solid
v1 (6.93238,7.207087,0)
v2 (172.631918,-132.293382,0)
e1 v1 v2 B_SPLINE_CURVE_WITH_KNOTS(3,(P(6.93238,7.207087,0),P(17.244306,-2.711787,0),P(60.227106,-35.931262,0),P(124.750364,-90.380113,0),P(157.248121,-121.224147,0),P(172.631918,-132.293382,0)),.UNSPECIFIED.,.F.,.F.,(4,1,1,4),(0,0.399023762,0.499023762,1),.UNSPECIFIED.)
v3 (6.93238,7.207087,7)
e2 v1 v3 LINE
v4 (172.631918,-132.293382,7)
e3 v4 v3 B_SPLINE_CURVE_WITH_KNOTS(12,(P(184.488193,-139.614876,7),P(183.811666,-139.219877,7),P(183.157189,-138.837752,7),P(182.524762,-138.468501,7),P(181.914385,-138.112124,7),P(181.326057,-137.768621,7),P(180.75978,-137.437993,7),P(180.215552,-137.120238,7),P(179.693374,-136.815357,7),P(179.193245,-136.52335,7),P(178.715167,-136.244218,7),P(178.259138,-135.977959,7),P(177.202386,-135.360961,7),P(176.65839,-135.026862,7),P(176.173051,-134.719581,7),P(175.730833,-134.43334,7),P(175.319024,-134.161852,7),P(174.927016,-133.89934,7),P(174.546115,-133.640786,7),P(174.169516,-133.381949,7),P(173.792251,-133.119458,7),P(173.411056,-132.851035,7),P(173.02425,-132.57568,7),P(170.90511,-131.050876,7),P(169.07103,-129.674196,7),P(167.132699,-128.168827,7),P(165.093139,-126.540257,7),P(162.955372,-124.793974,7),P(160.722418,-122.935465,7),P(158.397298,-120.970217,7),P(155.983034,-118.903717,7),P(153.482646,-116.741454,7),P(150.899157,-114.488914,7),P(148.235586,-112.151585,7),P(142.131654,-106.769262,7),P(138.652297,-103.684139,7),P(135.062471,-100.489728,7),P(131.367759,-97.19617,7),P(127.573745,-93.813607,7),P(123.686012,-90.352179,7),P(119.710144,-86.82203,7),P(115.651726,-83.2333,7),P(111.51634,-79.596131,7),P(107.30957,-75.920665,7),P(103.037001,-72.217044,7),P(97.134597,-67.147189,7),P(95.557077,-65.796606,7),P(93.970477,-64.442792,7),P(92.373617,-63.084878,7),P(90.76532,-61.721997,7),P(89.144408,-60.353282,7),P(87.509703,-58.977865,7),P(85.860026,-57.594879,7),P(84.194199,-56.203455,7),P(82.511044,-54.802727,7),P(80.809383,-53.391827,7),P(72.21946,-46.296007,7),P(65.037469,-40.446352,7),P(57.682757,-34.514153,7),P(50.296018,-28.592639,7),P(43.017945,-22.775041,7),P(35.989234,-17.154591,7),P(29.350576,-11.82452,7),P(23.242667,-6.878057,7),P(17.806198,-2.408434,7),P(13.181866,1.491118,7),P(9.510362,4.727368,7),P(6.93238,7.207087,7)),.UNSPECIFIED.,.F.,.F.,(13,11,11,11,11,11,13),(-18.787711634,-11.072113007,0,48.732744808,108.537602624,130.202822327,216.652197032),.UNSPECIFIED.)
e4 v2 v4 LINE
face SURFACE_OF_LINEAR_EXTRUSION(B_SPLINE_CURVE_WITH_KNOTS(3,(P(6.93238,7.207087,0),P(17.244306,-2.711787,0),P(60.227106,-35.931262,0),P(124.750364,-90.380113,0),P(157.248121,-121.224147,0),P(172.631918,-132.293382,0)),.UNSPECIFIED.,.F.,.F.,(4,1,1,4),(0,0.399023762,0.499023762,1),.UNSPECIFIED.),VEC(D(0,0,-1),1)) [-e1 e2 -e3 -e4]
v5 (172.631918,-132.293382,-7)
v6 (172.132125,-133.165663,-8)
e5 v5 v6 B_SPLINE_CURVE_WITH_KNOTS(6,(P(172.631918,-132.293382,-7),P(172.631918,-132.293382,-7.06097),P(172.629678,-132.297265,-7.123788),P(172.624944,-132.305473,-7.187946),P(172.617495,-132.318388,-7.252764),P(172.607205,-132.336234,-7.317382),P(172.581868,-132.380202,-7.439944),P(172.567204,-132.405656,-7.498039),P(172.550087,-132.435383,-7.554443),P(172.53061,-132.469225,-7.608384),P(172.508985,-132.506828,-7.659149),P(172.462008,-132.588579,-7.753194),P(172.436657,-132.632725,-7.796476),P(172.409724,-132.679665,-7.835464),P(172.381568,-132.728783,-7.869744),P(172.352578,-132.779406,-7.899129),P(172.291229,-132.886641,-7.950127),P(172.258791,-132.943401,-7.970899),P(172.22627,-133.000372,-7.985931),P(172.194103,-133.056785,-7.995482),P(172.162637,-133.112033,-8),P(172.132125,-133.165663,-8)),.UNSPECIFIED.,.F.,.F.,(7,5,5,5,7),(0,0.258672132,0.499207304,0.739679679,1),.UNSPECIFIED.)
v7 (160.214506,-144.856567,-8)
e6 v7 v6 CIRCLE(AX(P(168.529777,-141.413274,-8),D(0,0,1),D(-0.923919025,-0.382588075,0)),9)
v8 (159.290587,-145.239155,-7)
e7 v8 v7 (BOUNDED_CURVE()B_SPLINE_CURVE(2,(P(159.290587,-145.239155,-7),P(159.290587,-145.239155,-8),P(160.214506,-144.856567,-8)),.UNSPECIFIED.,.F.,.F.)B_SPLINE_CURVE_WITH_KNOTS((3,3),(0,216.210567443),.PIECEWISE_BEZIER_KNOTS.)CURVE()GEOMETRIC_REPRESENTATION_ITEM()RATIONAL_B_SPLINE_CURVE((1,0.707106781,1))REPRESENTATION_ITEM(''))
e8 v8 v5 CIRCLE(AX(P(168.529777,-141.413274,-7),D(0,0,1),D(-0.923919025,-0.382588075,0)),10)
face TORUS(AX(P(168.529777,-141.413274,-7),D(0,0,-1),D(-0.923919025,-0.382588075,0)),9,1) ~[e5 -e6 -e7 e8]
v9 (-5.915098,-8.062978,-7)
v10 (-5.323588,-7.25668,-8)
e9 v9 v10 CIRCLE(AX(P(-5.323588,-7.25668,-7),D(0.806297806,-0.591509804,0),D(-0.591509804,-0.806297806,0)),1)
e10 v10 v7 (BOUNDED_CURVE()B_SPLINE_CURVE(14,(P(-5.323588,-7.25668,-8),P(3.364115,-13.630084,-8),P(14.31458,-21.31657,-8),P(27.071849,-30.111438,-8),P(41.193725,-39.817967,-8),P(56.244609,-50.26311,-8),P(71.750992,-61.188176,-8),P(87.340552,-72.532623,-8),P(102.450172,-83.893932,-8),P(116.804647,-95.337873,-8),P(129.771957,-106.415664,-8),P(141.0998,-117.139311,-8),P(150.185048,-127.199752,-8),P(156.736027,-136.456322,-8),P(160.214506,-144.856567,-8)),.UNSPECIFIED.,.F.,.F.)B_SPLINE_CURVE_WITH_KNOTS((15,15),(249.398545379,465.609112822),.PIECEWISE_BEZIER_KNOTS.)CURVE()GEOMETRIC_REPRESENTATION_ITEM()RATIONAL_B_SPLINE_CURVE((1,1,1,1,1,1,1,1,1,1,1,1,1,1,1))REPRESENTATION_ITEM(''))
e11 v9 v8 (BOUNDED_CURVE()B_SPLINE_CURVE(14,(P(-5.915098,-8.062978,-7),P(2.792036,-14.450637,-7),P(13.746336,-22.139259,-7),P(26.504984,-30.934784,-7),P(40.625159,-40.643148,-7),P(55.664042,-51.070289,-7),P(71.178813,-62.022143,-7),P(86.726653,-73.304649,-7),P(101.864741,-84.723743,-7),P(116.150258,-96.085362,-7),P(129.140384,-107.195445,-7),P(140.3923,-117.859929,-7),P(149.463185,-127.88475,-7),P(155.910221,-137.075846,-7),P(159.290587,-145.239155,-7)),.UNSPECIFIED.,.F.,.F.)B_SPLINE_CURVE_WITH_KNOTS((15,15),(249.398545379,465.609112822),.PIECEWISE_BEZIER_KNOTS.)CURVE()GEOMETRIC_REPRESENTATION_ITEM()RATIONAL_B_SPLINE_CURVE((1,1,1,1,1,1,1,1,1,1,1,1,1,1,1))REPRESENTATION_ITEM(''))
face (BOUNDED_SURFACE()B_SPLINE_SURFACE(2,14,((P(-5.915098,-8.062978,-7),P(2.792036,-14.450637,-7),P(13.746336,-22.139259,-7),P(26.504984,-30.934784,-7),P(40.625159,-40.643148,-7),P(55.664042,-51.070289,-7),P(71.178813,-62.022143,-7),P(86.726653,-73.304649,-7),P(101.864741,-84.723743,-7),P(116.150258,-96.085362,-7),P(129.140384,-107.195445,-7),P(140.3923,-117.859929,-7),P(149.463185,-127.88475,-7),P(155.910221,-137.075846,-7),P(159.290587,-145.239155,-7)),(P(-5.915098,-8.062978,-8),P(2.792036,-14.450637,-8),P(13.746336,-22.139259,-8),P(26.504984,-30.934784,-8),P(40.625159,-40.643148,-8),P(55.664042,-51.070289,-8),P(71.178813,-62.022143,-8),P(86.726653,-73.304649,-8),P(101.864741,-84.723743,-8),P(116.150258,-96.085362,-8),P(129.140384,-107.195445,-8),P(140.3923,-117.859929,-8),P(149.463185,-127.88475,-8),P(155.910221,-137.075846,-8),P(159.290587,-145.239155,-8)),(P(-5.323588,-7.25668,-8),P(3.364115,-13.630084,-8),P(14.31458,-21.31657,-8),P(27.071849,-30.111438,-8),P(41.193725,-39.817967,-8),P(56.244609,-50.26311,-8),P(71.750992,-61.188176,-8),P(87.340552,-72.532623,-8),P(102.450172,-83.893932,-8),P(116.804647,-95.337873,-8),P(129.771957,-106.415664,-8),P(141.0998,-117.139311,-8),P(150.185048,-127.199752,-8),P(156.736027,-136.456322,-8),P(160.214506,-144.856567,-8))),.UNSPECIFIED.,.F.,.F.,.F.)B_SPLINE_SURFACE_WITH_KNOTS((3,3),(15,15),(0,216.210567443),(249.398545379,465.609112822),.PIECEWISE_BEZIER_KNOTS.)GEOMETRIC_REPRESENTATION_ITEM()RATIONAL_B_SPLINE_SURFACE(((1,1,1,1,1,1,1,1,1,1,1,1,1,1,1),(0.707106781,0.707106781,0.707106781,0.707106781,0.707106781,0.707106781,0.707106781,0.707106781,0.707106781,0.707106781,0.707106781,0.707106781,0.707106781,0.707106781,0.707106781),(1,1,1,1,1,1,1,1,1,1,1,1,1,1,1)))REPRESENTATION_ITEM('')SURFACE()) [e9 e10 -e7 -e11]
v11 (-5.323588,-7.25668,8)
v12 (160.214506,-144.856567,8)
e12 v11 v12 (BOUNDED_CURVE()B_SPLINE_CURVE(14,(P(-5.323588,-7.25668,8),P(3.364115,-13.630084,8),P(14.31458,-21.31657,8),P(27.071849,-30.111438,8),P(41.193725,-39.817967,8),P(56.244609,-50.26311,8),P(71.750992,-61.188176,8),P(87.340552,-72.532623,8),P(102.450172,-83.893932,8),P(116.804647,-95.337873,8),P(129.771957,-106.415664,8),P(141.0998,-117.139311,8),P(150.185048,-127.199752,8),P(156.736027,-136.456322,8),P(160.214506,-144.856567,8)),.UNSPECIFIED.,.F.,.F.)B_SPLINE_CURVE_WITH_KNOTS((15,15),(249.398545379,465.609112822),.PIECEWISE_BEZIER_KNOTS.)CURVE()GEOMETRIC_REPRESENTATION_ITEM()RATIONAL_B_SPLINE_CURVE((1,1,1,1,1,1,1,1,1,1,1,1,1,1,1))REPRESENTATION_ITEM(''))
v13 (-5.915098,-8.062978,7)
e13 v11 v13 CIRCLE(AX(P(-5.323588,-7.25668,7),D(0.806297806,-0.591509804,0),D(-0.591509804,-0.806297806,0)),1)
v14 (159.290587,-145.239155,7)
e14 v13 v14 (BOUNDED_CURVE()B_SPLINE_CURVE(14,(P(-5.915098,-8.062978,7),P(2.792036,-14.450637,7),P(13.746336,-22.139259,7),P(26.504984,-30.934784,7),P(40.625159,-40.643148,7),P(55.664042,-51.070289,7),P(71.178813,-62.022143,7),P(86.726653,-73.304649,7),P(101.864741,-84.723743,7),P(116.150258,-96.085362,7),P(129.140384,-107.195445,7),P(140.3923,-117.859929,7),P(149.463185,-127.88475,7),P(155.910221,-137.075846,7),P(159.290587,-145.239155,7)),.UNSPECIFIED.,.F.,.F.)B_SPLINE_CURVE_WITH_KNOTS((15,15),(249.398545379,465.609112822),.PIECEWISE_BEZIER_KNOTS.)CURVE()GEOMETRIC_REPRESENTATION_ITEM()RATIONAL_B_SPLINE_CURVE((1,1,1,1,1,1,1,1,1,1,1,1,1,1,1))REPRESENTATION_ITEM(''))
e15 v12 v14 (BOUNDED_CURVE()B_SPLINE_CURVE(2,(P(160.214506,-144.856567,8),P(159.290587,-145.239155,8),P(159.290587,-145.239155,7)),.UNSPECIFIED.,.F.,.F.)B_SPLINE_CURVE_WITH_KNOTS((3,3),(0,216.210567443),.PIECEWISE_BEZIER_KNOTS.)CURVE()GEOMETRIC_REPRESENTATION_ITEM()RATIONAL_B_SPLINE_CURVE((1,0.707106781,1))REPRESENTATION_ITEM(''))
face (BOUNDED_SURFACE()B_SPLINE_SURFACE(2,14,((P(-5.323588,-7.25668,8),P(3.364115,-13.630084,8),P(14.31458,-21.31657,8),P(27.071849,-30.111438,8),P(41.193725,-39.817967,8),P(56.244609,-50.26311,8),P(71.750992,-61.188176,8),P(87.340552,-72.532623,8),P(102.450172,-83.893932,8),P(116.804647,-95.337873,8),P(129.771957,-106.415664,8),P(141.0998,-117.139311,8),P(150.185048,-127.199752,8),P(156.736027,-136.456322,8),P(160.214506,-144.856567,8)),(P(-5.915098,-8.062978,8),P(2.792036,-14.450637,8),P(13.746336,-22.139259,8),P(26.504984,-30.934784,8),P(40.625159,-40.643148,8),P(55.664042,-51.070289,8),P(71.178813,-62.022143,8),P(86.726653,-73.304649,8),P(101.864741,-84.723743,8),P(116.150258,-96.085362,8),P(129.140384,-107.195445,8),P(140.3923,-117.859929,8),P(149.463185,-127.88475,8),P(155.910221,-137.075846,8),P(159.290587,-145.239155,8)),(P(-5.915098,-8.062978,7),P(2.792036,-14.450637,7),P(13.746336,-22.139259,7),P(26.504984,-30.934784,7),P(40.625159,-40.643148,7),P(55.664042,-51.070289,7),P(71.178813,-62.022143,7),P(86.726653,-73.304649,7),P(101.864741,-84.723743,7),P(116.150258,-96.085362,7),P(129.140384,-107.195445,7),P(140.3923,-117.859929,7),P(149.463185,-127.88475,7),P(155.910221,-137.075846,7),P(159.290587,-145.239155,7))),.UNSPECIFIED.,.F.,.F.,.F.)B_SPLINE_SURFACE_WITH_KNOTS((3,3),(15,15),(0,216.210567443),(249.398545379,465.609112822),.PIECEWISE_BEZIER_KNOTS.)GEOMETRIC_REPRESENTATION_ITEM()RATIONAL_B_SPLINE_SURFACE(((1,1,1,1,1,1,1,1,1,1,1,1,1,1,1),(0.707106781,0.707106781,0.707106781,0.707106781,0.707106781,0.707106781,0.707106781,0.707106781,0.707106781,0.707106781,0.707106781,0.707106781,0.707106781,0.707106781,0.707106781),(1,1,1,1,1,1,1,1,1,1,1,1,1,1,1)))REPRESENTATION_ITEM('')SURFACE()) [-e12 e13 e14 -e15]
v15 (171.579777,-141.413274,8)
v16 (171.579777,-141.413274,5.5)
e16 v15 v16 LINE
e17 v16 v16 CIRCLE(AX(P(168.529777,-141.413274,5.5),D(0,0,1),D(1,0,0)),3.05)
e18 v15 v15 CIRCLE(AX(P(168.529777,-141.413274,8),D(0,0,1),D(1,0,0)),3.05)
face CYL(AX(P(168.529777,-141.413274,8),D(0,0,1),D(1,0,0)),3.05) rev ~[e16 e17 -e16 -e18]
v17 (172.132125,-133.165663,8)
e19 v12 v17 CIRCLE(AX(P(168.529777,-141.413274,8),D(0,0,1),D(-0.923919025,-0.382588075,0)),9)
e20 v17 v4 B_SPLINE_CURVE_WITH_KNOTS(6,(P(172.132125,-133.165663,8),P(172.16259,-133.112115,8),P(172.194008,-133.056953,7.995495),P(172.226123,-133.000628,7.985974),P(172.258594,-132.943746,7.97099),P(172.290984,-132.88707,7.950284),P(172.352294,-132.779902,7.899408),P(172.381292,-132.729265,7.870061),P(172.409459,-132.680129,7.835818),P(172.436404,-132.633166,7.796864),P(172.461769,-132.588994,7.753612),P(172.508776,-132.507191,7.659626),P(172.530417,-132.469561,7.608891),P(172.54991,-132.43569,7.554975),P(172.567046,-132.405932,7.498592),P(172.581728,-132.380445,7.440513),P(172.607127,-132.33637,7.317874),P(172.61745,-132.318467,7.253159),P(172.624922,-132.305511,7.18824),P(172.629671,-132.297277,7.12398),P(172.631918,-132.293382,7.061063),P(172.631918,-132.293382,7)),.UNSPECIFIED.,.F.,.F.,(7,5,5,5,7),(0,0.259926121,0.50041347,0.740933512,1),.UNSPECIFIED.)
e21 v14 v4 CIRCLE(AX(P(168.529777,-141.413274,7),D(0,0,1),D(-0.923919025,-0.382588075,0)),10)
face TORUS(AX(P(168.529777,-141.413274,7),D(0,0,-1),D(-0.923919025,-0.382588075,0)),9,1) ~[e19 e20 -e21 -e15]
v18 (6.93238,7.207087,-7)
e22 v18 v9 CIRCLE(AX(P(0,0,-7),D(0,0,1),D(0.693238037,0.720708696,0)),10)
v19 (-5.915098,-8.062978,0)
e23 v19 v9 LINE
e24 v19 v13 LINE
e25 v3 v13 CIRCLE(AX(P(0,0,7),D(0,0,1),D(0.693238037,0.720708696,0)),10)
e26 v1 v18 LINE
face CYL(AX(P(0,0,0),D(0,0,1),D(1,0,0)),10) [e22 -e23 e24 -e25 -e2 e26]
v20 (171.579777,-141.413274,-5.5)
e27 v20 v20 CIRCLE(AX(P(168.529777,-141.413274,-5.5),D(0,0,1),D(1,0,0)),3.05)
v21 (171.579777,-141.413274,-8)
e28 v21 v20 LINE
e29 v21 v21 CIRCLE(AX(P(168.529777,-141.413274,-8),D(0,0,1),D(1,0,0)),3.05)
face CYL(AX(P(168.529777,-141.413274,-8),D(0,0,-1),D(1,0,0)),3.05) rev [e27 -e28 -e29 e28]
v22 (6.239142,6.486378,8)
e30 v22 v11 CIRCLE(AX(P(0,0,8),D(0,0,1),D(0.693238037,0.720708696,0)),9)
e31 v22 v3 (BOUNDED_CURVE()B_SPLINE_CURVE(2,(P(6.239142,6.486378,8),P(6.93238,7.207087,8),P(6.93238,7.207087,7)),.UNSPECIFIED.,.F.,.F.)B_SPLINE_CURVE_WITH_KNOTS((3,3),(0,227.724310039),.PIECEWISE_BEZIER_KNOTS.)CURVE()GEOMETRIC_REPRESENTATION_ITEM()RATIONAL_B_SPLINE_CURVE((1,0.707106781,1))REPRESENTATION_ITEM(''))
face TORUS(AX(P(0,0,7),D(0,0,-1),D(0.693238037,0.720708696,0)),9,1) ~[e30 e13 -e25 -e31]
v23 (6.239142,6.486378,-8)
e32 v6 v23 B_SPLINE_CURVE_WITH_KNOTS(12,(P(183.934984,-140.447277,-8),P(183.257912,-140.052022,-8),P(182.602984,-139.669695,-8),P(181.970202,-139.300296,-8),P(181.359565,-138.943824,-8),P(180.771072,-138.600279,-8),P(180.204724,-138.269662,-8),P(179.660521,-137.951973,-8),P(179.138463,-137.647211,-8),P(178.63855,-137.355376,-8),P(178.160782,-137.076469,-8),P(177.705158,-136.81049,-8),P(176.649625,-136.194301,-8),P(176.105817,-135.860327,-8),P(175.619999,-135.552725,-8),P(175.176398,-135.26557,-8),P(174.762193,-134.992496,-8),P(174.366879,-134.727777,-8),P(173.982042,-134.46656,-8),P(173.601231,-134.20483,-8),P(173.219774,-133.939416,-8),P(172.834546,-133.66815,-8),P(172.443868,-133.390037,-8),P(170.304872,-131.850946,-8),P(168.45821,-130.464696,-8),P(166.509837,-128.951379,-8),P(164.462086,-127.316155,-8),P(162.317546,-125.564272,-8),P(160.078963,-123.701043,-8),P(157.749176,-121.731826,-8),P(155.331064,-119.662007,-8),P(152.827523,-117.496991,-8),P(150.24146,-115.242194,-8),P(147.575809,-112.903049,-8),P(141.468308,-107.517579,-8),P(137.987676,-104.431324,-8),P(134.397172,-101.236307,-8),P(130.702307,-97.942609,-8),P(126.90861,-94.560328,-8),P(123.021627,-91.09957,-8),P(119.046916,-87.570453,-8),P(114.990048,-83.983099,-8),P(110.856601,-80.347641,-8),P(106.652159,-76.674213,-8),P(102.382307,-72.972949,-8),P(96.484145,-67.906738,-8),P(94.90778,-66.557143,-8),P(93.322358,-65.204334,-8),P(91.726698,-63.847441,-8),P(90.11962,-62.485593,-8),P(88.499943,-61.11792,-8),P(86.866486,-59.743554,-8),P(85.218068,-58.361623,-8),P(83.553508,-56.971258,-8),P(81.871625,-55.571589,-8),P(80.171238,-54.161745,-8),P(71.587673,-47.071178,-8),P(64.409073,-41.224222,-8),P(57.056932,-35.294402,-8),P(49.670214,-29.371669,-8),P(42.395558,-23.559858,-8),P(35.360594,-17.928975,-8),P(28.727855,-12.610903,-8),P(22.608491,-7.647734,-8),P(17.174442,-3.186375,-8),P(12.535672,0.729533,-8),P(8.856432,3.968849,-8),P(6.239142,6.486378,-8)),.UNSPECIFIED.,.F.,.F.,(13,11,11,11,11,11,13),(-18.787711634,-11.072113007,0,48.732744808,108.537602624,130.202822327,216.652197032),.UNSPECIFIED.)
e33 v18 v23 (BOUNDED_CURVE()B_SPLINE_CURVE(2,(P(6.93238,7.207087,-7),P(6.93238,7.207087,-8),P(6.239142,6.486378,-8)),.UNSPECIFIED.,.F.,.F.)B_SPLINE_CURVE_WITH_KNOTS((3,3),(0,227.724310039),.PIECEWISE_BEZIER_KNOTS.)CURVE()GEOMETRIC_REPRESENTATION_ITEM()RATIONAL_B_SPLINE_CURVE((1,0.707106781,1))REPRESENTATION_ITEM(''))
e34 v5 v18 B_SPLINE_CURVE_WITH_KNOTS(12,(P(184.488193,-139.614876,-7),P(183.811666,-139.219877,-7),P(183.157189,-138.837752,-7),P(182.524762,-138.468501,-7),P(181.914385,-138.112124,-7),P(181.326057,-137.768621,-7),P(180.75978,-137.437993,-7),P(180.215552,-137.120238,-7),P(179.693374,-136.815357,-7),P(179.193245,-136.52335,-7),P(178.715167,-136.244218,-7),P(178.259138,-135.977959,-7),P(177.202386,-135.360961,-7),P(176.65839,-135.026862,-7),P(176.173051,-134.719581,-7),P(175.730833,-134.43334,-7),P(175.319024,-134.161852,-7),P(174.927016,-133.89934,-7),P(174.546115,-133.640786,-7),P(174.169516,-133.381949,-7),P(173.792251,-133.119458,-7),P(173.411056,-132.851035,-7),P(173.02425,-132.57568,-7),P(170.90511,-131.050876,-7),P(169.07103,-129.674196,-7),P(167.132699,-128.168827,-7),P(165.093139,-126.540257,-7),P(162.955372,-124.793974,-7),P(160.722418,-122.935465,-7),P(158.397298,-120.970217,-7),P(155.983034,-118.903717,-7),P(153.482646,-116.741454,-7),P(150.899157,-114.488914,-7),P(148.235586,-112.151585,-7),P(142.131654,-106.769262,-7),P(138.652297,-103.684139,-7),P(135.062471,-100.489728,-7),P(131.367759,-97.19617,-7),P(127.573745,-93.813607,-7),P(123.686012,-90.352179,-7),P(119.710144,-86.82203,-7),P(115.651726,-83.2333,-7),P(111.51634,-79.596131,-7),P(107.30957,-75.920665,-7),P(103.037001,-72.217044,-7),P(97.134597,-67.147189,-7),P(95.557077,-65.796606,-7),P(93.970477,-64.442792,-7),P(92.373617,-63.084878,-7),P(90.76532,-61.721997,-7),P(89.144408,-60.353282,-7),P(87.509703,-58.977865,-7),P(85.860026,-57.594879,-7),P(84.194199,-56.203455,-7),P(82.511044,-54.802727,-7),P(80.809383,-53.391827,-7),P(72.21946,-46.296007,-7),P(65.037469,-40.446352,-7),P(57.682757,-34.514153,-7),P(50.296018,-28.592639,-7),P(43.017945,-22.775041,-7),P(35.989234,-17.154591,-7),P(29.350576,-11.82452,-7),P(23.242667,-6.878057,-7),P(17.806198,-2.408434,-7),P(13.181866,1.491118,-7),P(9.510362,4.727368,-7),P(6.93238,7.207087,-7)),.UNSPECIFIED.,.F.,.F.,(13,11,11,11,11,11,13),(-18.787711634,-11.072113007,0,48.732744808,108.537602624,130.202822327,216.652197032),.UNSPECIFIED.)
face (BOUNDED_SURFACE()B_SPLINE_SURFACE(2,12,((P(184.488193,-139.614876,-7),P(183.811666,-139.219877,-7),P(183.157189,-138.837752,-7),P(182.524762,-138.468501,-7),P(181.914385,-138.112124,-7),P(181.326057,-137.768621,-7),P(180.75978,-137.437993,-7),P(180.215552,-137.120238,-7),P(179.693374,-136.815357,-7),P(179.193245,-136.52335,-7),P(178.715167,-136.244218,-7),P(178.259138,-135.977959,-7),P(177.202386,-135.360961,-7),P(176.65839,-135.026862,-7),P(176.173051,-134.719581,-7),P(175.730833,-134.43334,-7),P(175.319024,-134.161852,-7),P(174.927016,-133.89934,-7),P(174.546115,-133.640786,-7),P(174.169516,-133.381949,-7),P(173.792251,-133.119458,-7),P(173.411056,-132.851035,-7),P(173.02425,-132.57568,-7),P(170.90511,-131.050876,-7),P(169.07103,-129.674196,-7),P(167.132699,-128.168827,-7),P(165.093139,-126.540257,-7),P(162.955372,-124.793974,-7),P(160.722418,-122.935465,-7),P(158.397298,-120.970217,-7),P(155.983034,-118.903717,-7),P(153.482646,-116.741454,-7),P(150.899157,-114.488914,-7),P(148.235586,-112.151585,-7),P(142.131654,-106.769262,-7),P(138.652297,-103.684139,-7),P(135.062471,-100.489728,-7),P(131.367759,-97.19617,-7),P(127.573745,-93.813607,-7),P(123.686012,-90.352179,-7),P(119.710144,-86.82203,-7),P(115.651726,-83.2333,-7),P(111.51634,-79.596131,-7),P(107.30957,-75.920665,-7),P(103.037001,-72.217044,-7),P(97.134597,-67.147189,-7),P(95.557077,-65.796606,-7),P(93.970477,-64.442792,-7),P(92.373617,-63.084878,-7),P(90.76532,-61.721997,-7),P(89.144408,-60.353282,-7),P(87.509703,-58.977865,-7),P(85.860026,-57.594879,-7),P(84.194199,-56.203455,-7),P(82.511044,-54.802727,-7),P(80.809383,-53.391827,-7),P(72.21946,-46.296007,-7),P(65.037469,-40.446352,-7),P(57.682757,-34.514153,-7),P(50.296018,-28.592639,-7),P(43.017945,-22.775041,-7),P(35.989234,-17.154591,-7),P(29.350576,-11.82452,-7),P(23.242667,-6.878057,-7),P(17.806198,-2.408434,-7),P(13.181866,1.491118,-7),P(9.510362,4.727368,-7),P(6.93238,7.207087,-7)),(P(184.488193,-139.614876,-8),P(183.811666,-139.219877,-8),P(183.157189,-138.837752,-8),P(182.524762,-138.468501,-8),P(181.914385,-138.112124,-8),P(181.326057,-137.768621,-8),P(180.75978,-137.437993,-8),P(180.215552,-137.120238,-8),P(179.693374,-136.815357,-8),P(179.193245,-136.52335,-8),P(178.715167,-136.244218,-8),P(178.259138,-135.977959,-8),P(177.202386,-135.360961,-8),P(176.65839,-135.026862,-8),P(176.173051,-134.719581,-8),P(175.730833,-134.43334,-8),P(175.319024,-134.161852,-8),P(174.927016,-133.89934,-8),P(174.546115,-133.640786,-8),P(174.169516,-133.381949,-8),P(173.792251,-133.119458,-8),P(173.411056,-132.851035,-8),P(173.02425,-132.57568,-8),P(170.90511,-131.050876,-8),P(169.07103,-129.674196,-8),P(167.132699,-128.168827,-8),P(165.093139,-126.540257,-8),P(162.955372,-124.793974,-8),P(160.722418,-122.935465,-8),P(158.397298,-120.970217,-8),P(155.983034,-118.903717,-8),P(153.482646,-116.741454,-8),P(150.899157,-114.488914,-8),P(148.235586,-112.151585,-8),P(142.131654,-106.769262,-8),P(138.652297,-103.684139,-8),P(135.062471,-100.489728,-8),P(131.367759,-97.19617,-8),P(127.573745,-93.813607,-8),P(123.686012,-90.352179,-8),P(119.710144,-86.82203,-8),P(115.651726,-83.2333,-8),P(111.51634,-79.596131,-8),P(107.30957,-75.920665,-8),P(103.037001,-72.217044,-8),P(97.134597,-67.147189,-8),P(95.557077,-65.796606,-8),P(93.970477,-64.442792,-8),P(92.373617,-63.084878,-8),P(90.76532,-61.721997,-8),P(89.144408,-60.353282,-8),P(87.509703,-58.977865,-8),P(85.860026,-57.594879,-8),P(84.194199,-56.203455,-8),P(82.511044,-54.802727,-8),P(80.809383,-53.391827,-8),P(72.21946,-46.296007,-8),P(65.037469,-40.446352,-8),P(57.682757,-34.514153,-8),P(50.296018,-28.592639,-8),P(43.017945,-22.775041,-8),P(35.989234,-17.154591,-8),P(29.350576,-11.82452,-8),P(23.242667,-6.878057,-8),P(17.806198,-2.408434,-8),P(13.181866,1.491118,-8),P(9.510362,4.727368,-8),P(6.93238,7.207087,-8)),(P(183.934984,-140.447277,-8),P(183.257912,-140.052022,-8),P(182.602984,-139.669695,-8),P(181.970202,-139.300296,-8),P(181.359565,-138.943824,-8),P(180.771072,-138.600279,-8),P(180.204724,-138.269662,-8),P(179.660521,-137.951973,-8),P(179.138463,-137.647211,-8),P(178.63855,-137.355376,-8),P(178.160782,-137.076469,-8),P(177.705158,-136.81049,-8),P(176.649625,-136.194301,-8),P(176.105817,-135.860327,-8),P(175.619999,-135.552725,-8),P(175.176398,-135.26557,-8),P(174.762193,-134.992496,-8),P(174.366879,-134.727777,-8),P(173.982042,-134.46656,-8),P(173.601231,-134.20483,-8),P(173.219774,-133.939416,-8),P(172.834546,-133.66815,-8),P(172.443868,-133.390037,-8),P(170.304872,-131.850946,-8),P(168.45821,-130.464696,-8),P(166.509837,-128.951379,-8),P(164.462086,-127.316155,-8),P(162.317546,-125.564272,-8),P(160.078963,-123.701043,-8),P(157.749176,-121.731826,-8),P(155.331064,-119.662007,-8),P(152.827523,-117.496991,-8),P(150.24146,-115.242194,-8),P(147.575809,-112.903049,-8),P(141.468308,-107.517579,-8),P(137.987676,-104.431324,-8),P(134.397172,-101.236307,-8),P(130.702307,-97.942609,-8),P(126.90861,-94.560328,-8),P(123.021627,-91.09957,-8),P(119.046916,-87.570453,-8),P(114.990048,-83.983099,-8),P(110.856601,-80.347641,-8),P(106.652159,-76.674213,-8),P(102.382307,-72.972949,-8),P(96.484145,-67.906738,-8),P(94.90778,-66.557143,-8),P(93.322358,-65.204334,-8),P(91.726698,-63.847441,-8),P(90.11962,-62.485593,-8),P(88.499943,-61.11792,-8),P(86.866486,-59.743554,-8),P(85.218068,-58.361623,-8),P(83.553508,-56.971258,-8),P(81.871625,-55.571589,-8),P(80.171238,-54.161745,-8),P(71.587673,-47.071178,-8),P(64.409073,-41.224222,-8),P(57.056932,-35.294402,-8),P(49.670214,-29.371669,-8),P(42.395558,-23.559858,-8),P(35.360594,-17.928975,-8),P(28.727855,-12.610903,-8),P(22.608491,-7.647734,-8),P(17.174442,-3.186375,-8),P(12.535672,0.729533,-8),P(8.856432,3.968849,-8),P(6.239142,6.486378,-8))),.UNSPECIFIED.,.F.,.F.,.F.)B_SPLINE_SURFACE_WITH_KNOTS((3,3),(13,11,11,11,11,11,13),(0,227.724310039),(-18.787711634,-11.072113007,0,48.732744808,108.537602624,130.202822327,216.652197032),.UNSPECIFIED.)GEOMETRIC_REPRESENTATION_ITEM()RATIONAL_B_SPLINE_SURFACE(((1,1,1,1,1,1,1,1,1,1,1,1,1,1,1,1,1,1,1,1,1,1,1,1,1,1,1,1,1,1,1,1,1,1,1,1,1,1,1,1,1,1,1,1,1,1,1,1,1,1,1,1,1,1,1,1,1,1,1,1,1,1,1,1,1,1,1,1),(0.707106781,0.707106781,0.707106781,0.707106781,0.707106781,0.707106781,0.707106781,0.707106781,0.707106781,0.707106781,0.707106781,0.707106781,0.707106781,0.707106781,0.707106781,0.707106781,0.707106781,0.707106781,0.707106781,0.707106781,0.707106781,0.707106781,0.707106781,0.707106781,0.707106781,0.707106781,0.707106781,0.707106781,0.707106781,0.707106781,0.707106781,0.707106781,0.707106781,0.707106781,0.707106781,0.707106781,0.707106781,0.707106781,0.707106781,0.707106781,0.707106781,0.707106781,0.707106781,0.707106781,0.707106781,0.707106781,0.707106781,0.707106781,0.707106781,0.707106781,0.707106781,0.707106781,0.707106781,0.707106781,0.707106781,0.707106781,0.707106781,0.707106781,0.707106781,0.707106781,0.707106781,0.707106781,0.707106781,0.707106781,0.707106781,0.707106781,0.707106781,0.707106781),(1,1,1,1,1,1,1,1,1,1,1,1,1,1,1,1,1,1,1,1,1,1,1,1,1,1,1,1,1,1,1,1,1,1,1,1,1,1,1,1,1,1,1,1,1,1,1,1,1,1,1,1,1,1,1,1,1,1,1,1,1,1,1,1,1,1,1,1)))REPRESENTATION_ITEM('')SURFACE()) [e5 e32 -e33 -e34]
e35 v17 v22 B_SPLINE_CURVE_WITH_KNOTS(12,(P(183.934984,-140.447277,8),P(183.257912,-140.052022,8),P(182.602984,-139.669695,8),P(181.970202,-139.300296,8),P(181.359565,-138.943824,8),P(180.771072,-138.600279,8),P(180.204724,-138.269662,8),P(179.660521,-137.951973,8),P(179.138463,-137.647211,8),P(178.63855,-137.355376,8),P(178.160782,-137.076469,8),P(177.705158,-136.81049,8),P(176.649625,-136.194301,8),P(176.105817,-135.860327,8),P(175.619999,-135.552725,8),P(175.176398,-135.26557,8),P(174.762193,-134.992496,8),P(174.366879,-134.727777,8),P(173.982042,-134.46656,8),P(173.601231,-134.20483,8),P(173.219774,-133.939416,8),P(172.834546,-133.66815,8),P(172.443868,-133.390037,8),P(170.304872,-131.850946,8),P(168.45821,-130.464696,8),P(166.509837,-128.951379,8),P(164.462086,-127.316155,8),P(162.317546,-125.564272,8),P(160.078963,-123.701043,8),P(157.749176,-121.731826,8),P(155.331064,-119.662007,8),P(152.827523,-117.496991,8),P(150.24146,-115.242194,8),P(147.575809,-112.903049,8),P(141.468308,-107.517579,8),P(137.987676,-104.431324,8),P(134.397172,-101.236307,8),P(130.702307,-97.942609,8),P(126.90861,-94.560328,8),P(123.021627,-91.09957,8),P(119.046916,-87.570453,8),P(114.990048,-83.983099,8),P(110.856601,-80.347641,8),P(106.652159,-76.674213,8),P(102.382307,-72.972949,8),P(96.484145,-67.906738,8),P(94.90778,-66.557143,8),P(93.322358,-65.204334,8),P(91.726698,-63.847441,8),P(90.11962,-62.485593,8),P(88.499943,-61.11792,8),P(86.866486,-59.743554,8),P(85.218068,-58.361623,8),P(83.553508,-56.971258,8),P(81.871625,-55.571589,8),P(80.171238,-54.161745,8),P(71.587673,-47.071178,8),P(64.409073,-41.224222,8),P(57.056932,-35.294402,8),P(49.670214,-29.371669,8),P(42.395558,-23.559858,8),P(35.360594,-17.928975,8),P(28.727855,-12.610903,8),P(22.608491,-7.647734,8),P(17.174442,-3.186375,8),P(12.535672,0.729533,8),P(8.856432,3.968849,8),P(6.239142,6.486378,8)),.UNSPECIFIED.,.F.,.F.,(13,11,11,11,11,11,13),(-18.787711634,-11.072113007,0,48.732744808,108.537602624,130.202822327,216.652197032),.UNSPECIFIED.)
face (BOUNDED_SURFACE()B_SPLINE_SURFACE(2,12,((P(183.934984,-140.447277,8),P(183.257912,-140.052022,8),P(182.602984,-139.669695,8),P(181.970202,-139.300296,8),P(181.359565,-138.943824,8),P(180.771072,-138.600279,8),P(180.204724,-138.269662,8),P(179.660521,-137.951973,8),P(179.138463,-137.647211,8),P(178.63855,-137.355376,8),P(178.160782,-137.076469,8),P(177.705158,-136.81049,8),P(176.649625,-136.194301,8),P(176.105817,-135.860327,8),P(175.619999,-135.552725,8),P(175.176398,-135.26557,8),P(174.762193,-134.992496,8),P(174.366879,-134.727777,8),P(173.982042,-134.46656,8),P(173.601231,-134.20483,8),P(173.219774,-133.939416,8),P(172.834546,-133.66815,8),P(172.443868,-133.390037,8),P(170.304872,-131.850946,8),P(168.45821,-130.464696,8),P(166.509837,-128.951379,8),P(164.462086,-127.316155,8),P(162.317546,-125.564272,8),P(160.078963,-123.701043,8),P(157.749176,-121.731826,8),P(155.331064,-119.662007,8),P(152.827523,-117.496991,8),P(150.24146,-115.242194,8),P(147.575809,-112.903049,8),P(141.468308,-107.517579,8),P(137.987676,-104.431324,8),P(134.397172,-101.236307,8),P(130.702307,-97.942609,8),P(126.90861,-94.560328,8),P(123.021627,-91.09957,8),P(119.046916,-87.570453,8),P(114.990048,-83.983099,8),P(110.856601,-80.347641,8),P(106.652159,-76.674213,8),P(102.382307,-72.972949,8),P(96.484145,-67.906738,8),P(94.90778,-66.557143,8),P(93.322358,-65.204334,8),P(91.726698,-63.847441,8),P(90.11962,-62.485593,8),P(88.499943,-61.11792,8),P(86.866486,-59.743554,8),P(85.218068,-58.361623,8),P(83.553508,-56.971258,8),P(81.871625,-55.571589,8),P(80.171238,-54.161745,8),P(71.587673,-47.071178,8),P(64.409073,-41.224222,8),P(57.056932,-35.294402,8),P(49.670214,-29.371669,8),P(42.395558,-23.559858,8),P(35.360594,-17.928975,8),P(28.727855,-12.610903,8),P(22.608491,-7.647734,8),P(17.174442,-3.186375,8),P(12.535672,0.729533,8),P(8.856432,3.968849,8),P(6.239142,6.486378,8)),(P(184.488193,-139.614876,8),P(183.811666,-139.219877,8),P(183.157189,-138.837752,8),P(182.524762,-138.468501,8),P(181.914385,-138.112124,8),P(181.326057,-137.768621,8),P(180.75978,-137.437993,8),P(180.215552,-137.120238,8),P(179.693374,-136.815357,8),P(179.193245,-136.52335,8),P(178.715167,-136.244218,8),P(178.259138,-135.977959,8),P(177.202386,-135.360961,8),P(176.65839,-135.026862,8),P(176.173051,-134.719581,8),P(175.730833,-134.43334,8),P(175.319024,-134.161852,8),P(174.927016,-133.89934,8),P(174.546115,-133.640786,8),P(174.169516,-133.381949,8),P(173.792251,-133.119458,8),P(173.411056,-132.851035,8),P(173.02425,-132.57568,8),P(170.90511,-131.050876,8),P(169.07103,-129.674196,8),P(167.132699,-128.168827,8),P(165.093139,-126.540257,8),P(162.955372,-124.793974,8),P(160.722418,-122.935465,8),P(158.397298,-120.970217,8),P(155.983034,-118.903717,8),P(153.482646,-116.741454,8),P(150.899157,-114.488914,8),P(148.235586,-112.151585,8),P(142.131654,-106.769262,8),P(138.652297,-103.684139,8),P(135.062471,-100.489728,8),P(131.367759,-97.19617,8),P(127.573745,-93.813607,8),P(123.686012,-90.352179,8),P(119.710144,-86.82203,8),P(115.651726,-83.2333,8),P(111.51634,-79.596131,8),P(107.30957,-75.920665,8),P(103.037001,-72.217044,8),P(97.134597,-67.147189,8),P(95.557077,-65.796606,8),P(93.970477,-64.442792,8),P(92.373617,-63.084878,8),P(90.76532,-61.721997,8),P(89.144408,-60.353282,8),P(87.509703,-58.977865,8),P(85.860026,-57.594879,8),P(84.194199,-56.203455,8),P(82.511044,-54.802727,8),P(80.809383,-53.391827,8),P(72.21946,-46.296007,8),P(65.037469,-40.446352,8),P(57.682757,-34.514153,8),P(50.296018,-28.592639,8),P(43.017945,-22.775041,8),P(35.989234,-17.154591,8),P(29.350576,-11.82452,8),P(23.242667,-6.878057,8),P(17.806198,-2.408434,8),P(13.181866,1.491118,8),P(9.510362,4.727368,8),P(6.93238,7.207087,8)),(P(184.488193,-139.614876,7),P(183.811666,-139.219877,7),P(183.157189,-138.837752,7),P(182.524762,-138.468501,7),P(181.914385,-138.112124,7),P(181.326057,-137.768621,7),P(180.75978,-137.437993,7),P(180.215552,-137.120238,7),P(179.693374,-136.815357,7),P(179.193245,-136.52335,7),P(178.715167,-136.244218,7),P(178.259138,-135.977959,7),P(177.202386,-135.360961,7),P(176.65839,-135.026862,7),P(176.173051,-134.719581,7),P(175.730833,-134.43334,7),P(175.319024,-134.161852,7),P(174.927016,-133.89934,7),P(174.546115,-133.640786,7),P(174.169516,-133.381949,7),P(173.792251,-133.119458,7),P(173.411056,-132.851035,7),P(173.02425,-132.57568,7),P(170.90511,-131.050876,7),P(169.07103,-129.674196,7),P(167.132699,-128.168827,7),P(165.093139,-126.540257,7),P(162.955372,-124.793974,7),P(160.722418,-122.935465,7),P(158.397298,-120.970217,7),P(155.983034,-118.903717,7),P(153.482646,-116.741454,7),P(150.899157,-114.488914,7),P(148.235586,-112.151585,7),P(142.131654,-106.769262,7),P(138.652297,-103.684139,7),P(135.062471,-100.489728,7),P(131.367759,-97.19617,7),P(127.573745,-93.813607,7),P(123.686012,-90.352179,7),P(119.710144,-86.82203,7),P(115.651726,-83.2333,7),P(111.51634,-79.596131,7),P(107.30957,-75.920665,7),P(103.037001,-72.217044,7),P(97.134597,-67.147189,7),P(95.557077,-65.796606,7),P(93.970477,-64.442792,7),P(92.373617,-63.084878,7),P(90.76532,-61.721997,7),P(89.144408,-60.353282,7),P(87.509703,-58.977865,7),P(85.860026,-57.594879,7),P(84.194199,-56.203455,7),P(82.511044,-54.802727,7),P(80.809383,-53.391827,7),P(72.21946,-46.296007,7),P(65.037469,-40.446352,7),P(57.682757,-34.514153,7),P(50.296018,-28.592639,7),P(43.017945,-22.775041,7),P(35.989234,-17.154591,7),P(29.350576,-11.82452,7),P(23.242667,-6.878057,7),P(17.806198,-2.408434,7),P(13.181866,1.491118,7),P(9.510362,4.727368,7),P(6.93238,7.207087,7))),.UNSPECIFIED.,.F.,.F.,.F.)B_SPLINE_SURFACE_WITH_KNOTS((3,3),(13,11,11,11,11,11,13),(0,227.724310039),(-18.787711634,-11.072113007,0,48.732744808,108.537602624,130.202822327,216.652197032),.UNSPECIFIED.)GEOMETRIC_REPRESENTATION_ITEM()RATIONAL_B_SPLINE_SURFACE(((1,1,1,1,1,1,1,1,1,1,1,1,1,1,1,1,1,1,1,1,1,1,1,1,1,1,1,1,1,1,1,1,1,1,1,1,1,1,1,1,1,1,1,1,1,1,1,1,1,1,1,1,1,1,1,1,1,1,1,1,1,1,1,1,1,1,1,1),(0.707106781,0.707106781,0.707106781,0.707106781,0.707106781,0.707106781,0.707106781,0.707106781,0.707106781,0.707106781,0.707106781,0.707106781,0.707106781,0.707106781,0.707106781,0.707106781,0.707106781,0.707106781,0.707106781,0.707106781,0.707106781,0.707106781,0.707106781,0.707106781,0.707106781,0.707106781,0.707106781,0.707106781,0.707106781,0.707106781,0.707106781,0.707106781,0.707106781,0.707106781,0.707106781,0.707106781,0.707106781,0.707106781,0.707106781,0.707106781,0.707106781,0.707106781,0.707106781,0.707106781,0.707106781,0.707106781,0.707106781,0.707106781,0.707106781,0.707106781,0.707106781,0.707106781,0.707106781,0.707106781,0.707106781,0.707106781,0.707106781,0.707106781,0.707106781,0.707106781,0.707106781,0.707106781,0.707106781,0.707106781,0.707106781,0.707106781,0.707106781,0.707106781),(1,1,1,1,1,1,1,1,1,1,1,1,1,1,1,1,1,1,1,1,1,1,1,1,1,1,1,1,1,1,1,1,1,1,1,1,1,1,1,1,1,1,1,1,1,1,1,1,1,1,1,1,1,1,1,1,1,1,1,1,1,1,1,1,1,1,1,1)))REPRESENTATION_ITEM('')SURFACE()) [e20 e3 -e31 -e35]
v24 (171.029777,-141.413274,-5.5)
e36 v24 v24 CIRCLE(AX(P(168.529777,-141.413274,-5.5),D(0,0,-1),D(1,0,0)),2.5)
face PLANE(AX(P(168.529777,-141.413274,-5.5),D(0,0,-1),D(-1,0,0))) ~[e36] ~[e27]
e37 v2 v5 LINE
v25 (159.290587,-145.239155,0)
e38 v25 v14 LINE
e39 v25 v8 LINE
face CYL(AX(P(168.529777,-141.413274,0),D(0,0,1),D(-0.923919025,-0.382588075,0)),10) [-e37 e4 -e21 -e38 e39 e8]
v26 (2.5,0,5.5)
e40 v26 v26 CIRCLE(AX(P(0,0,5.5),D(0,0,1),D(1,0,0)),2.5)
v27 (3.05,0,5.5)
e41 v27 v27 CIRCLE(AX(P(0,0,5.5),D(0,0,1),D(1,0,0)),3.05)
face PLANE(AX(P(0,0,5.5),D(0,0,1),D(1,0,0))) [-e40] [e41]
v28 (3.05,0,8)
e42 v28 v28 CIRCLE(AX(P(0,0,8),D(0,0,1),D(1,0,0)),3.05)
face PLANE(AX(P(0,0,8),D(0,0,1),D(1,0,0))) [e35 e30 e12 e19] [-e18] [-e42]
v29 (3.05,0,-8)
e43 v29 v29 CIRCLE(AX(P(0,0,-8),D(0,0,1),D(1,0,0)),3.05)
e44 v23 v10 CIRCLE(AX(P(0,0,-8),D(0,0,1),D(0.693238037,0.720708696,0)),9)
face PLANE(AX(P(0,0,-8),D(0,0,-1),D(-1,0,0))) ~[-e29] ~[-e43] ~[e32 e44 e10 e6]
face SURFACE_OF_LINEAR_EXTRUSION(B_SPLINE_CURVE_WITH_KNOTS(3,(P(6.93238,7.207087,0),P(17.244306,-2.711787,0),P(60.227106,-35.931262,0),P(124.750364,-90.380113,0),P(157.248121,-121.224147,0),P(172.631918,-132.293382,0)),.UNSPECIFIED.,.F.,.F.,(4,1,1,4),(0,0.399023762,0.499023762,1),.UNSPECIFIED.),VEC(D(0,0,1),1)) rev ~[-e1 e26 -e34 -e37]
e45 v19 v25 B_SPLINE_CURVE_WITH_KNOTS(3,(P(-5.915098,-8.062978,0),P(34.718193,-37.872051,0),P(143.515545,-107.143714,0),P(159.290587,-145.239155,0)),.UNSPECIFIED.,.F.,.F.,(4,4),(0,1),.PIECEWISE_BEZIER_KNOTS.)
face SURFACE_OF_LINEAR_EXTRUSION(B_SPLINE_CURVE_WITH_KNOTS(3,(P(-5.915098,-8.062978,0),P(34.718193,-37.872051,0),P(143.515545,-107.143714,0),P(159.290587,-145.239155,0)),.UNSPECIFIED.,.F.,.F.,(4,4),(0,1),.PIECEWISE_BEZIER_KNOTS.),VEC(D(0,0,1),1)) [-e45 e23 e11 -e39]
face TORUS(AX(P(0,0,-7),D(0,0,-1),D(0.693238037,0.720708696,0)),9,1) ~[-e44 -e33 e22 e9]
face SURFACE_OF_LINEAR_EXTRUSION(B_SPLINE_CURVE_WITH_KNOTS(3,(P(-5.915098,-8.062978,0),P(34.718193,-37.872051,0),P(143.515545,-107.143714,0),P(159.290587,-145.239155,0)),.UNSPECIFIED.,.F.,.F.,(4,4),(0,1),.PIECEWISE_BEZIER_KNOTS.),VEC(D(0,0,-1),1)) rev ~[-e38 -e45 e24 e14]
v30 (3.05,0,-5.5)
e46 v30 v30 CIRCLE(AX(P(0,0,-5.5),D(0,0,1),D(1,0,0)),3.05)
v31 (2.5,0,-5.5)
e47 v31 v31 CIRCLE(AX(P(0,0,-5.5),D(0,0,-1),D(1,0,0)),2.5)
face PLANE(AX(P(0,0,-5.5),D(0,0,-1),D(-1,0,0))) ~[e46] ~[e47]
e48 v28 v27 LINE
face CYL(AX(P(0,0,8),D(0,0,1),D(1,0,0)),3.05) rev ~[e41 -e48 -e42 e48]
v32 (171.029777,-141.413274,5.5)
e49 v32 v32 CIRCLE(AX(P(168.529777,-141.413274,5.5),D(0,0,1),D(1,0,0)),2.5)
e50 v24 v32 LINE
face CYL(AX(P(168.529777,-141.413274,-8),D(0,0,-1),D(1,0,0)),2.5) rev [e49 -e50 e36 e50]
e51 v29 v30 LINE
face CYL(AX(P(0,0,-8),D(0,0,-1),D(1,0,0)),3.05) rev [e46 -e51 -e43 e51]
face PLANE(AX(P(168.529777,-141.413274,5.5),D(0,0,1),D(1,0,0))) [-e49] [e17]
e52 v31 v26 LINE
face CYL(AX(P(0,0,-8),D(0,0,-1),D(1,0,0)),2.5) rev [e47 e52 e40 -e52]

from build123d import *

# Parameters (mm, degrees)
SKETCH1_R           = 10
BOSS_EXTRUDE1_DEPTH = 8
SKETCH2_R           = 3.05
CUT_EXTRUDE1_DEPTH  = 2.5
SKETCH3_R           = 2.5
CUT_EXTRUDE2_DEPTH  = 235.228224388
FILLET1_R           = 1


with BuildPart() as part:
    # Sketch1 → Boss-Extrude1 (new body)
    with BuildSketch(Plane.XY):
        Circle(SKETCH1_R)
        with BuildLine():
            ThreePointArc((6.932380368, 7.207086959), (9.20119024, 3.916388408), (10, 0))
            ThreePointArc((10, 0), (4.519348384, -8.920509525), (-5.915098037, -8.062978061))
            add(Edge.make_bspline(
                [(-5.915098037, -8.062978061), (34.718192947, -37.87205083), (143.515545331, -107.14371417), (159.290587236, -145.239154883)],
                knots=[0, 0, 0, 0, 1, 1, 1, 1], degree=3))
            ThreePointArc((159.290587236, -145.239154883), (161.565900633, -134.236616192), (172.63191834, -132.293381565))
            add(Edge.make_bspline(
                [(6.932380368, 7.207086959), (17.244305655, -2.711787175), (60.227105828, -35.931261983), (124.750363865, -90.380113257), (157.248120819, -121.224147407), (172.63191834, -132.293381565)],
                knots=[0, 0, 0, 0, 0.399023762, 0.499023762, 1, 1, 1, 1], degree=3))
        make_face()
        with Locations((168.529777486, -141.413274131)):
            Circle(SKETCH1_R)
    boss_extrude1 = extrude(amount=BOSS_EXTRUDE1_DEPTH)

    # Sketch2 → Cut-Extrude1 (cut)
    with BuildSketch(Plane.XY.offset(8)):
        Circle(SKETCH2_R)
        with Locations((168.529777486, -141.413274131)):
            Circle(SKETCH2_R)
    cut_extrude1 = extrude(amount=-CUT_EXTRUDE1_DEPTH, mode=Mode.SUBTRACT)

    # Sketch3 → Cut-Extrude2 (cut, through all)
    with BuildSketch(Plane.XY.offset(8)):
        Circle(SKETCH3_R)
        with Locations((168.529777486, -141.413274131)):
            Circle(SKETCH3_R)
    cut_extrude2 = extrude(amount=-CUT_EXTRUDE2_DEPTH, mode=Mode.SUBTRACT)

    # Mirror1: Boss-Extrude1, Cut-Extrude1, Cut-Extrude2 across plane
    add(boss_extrude1.mirror(Plane.XY))
    add(cut_extrude1.mirror(Plane.XY), mode=Mode.SUBTRACT)
    add(cut_extrude2.mirror(Plane.XY), mode=Mode.SUBTRACT)

    # Fillet1
    fillet1_edges = [part.edges().sort_by_distance(p)[0] for p in [
        (82.198981844, -70.686100864, 8),
        (175.493654339, -148.58993207, 8),
        (90.595273902, -61.585291098, 8),
        (-7.651956434, 6.437978156, -8),
        (175.493654339, -148.58993207, -8),
        (82.198981844, -70.686100864, -8),
        (90.595273902, -61.585291098, -8),
        (-7.651956434, 6.437978156, 8),
    ]]
    fillet(fillet1_edges, radius=FILLET1_R)


solid = part.part
